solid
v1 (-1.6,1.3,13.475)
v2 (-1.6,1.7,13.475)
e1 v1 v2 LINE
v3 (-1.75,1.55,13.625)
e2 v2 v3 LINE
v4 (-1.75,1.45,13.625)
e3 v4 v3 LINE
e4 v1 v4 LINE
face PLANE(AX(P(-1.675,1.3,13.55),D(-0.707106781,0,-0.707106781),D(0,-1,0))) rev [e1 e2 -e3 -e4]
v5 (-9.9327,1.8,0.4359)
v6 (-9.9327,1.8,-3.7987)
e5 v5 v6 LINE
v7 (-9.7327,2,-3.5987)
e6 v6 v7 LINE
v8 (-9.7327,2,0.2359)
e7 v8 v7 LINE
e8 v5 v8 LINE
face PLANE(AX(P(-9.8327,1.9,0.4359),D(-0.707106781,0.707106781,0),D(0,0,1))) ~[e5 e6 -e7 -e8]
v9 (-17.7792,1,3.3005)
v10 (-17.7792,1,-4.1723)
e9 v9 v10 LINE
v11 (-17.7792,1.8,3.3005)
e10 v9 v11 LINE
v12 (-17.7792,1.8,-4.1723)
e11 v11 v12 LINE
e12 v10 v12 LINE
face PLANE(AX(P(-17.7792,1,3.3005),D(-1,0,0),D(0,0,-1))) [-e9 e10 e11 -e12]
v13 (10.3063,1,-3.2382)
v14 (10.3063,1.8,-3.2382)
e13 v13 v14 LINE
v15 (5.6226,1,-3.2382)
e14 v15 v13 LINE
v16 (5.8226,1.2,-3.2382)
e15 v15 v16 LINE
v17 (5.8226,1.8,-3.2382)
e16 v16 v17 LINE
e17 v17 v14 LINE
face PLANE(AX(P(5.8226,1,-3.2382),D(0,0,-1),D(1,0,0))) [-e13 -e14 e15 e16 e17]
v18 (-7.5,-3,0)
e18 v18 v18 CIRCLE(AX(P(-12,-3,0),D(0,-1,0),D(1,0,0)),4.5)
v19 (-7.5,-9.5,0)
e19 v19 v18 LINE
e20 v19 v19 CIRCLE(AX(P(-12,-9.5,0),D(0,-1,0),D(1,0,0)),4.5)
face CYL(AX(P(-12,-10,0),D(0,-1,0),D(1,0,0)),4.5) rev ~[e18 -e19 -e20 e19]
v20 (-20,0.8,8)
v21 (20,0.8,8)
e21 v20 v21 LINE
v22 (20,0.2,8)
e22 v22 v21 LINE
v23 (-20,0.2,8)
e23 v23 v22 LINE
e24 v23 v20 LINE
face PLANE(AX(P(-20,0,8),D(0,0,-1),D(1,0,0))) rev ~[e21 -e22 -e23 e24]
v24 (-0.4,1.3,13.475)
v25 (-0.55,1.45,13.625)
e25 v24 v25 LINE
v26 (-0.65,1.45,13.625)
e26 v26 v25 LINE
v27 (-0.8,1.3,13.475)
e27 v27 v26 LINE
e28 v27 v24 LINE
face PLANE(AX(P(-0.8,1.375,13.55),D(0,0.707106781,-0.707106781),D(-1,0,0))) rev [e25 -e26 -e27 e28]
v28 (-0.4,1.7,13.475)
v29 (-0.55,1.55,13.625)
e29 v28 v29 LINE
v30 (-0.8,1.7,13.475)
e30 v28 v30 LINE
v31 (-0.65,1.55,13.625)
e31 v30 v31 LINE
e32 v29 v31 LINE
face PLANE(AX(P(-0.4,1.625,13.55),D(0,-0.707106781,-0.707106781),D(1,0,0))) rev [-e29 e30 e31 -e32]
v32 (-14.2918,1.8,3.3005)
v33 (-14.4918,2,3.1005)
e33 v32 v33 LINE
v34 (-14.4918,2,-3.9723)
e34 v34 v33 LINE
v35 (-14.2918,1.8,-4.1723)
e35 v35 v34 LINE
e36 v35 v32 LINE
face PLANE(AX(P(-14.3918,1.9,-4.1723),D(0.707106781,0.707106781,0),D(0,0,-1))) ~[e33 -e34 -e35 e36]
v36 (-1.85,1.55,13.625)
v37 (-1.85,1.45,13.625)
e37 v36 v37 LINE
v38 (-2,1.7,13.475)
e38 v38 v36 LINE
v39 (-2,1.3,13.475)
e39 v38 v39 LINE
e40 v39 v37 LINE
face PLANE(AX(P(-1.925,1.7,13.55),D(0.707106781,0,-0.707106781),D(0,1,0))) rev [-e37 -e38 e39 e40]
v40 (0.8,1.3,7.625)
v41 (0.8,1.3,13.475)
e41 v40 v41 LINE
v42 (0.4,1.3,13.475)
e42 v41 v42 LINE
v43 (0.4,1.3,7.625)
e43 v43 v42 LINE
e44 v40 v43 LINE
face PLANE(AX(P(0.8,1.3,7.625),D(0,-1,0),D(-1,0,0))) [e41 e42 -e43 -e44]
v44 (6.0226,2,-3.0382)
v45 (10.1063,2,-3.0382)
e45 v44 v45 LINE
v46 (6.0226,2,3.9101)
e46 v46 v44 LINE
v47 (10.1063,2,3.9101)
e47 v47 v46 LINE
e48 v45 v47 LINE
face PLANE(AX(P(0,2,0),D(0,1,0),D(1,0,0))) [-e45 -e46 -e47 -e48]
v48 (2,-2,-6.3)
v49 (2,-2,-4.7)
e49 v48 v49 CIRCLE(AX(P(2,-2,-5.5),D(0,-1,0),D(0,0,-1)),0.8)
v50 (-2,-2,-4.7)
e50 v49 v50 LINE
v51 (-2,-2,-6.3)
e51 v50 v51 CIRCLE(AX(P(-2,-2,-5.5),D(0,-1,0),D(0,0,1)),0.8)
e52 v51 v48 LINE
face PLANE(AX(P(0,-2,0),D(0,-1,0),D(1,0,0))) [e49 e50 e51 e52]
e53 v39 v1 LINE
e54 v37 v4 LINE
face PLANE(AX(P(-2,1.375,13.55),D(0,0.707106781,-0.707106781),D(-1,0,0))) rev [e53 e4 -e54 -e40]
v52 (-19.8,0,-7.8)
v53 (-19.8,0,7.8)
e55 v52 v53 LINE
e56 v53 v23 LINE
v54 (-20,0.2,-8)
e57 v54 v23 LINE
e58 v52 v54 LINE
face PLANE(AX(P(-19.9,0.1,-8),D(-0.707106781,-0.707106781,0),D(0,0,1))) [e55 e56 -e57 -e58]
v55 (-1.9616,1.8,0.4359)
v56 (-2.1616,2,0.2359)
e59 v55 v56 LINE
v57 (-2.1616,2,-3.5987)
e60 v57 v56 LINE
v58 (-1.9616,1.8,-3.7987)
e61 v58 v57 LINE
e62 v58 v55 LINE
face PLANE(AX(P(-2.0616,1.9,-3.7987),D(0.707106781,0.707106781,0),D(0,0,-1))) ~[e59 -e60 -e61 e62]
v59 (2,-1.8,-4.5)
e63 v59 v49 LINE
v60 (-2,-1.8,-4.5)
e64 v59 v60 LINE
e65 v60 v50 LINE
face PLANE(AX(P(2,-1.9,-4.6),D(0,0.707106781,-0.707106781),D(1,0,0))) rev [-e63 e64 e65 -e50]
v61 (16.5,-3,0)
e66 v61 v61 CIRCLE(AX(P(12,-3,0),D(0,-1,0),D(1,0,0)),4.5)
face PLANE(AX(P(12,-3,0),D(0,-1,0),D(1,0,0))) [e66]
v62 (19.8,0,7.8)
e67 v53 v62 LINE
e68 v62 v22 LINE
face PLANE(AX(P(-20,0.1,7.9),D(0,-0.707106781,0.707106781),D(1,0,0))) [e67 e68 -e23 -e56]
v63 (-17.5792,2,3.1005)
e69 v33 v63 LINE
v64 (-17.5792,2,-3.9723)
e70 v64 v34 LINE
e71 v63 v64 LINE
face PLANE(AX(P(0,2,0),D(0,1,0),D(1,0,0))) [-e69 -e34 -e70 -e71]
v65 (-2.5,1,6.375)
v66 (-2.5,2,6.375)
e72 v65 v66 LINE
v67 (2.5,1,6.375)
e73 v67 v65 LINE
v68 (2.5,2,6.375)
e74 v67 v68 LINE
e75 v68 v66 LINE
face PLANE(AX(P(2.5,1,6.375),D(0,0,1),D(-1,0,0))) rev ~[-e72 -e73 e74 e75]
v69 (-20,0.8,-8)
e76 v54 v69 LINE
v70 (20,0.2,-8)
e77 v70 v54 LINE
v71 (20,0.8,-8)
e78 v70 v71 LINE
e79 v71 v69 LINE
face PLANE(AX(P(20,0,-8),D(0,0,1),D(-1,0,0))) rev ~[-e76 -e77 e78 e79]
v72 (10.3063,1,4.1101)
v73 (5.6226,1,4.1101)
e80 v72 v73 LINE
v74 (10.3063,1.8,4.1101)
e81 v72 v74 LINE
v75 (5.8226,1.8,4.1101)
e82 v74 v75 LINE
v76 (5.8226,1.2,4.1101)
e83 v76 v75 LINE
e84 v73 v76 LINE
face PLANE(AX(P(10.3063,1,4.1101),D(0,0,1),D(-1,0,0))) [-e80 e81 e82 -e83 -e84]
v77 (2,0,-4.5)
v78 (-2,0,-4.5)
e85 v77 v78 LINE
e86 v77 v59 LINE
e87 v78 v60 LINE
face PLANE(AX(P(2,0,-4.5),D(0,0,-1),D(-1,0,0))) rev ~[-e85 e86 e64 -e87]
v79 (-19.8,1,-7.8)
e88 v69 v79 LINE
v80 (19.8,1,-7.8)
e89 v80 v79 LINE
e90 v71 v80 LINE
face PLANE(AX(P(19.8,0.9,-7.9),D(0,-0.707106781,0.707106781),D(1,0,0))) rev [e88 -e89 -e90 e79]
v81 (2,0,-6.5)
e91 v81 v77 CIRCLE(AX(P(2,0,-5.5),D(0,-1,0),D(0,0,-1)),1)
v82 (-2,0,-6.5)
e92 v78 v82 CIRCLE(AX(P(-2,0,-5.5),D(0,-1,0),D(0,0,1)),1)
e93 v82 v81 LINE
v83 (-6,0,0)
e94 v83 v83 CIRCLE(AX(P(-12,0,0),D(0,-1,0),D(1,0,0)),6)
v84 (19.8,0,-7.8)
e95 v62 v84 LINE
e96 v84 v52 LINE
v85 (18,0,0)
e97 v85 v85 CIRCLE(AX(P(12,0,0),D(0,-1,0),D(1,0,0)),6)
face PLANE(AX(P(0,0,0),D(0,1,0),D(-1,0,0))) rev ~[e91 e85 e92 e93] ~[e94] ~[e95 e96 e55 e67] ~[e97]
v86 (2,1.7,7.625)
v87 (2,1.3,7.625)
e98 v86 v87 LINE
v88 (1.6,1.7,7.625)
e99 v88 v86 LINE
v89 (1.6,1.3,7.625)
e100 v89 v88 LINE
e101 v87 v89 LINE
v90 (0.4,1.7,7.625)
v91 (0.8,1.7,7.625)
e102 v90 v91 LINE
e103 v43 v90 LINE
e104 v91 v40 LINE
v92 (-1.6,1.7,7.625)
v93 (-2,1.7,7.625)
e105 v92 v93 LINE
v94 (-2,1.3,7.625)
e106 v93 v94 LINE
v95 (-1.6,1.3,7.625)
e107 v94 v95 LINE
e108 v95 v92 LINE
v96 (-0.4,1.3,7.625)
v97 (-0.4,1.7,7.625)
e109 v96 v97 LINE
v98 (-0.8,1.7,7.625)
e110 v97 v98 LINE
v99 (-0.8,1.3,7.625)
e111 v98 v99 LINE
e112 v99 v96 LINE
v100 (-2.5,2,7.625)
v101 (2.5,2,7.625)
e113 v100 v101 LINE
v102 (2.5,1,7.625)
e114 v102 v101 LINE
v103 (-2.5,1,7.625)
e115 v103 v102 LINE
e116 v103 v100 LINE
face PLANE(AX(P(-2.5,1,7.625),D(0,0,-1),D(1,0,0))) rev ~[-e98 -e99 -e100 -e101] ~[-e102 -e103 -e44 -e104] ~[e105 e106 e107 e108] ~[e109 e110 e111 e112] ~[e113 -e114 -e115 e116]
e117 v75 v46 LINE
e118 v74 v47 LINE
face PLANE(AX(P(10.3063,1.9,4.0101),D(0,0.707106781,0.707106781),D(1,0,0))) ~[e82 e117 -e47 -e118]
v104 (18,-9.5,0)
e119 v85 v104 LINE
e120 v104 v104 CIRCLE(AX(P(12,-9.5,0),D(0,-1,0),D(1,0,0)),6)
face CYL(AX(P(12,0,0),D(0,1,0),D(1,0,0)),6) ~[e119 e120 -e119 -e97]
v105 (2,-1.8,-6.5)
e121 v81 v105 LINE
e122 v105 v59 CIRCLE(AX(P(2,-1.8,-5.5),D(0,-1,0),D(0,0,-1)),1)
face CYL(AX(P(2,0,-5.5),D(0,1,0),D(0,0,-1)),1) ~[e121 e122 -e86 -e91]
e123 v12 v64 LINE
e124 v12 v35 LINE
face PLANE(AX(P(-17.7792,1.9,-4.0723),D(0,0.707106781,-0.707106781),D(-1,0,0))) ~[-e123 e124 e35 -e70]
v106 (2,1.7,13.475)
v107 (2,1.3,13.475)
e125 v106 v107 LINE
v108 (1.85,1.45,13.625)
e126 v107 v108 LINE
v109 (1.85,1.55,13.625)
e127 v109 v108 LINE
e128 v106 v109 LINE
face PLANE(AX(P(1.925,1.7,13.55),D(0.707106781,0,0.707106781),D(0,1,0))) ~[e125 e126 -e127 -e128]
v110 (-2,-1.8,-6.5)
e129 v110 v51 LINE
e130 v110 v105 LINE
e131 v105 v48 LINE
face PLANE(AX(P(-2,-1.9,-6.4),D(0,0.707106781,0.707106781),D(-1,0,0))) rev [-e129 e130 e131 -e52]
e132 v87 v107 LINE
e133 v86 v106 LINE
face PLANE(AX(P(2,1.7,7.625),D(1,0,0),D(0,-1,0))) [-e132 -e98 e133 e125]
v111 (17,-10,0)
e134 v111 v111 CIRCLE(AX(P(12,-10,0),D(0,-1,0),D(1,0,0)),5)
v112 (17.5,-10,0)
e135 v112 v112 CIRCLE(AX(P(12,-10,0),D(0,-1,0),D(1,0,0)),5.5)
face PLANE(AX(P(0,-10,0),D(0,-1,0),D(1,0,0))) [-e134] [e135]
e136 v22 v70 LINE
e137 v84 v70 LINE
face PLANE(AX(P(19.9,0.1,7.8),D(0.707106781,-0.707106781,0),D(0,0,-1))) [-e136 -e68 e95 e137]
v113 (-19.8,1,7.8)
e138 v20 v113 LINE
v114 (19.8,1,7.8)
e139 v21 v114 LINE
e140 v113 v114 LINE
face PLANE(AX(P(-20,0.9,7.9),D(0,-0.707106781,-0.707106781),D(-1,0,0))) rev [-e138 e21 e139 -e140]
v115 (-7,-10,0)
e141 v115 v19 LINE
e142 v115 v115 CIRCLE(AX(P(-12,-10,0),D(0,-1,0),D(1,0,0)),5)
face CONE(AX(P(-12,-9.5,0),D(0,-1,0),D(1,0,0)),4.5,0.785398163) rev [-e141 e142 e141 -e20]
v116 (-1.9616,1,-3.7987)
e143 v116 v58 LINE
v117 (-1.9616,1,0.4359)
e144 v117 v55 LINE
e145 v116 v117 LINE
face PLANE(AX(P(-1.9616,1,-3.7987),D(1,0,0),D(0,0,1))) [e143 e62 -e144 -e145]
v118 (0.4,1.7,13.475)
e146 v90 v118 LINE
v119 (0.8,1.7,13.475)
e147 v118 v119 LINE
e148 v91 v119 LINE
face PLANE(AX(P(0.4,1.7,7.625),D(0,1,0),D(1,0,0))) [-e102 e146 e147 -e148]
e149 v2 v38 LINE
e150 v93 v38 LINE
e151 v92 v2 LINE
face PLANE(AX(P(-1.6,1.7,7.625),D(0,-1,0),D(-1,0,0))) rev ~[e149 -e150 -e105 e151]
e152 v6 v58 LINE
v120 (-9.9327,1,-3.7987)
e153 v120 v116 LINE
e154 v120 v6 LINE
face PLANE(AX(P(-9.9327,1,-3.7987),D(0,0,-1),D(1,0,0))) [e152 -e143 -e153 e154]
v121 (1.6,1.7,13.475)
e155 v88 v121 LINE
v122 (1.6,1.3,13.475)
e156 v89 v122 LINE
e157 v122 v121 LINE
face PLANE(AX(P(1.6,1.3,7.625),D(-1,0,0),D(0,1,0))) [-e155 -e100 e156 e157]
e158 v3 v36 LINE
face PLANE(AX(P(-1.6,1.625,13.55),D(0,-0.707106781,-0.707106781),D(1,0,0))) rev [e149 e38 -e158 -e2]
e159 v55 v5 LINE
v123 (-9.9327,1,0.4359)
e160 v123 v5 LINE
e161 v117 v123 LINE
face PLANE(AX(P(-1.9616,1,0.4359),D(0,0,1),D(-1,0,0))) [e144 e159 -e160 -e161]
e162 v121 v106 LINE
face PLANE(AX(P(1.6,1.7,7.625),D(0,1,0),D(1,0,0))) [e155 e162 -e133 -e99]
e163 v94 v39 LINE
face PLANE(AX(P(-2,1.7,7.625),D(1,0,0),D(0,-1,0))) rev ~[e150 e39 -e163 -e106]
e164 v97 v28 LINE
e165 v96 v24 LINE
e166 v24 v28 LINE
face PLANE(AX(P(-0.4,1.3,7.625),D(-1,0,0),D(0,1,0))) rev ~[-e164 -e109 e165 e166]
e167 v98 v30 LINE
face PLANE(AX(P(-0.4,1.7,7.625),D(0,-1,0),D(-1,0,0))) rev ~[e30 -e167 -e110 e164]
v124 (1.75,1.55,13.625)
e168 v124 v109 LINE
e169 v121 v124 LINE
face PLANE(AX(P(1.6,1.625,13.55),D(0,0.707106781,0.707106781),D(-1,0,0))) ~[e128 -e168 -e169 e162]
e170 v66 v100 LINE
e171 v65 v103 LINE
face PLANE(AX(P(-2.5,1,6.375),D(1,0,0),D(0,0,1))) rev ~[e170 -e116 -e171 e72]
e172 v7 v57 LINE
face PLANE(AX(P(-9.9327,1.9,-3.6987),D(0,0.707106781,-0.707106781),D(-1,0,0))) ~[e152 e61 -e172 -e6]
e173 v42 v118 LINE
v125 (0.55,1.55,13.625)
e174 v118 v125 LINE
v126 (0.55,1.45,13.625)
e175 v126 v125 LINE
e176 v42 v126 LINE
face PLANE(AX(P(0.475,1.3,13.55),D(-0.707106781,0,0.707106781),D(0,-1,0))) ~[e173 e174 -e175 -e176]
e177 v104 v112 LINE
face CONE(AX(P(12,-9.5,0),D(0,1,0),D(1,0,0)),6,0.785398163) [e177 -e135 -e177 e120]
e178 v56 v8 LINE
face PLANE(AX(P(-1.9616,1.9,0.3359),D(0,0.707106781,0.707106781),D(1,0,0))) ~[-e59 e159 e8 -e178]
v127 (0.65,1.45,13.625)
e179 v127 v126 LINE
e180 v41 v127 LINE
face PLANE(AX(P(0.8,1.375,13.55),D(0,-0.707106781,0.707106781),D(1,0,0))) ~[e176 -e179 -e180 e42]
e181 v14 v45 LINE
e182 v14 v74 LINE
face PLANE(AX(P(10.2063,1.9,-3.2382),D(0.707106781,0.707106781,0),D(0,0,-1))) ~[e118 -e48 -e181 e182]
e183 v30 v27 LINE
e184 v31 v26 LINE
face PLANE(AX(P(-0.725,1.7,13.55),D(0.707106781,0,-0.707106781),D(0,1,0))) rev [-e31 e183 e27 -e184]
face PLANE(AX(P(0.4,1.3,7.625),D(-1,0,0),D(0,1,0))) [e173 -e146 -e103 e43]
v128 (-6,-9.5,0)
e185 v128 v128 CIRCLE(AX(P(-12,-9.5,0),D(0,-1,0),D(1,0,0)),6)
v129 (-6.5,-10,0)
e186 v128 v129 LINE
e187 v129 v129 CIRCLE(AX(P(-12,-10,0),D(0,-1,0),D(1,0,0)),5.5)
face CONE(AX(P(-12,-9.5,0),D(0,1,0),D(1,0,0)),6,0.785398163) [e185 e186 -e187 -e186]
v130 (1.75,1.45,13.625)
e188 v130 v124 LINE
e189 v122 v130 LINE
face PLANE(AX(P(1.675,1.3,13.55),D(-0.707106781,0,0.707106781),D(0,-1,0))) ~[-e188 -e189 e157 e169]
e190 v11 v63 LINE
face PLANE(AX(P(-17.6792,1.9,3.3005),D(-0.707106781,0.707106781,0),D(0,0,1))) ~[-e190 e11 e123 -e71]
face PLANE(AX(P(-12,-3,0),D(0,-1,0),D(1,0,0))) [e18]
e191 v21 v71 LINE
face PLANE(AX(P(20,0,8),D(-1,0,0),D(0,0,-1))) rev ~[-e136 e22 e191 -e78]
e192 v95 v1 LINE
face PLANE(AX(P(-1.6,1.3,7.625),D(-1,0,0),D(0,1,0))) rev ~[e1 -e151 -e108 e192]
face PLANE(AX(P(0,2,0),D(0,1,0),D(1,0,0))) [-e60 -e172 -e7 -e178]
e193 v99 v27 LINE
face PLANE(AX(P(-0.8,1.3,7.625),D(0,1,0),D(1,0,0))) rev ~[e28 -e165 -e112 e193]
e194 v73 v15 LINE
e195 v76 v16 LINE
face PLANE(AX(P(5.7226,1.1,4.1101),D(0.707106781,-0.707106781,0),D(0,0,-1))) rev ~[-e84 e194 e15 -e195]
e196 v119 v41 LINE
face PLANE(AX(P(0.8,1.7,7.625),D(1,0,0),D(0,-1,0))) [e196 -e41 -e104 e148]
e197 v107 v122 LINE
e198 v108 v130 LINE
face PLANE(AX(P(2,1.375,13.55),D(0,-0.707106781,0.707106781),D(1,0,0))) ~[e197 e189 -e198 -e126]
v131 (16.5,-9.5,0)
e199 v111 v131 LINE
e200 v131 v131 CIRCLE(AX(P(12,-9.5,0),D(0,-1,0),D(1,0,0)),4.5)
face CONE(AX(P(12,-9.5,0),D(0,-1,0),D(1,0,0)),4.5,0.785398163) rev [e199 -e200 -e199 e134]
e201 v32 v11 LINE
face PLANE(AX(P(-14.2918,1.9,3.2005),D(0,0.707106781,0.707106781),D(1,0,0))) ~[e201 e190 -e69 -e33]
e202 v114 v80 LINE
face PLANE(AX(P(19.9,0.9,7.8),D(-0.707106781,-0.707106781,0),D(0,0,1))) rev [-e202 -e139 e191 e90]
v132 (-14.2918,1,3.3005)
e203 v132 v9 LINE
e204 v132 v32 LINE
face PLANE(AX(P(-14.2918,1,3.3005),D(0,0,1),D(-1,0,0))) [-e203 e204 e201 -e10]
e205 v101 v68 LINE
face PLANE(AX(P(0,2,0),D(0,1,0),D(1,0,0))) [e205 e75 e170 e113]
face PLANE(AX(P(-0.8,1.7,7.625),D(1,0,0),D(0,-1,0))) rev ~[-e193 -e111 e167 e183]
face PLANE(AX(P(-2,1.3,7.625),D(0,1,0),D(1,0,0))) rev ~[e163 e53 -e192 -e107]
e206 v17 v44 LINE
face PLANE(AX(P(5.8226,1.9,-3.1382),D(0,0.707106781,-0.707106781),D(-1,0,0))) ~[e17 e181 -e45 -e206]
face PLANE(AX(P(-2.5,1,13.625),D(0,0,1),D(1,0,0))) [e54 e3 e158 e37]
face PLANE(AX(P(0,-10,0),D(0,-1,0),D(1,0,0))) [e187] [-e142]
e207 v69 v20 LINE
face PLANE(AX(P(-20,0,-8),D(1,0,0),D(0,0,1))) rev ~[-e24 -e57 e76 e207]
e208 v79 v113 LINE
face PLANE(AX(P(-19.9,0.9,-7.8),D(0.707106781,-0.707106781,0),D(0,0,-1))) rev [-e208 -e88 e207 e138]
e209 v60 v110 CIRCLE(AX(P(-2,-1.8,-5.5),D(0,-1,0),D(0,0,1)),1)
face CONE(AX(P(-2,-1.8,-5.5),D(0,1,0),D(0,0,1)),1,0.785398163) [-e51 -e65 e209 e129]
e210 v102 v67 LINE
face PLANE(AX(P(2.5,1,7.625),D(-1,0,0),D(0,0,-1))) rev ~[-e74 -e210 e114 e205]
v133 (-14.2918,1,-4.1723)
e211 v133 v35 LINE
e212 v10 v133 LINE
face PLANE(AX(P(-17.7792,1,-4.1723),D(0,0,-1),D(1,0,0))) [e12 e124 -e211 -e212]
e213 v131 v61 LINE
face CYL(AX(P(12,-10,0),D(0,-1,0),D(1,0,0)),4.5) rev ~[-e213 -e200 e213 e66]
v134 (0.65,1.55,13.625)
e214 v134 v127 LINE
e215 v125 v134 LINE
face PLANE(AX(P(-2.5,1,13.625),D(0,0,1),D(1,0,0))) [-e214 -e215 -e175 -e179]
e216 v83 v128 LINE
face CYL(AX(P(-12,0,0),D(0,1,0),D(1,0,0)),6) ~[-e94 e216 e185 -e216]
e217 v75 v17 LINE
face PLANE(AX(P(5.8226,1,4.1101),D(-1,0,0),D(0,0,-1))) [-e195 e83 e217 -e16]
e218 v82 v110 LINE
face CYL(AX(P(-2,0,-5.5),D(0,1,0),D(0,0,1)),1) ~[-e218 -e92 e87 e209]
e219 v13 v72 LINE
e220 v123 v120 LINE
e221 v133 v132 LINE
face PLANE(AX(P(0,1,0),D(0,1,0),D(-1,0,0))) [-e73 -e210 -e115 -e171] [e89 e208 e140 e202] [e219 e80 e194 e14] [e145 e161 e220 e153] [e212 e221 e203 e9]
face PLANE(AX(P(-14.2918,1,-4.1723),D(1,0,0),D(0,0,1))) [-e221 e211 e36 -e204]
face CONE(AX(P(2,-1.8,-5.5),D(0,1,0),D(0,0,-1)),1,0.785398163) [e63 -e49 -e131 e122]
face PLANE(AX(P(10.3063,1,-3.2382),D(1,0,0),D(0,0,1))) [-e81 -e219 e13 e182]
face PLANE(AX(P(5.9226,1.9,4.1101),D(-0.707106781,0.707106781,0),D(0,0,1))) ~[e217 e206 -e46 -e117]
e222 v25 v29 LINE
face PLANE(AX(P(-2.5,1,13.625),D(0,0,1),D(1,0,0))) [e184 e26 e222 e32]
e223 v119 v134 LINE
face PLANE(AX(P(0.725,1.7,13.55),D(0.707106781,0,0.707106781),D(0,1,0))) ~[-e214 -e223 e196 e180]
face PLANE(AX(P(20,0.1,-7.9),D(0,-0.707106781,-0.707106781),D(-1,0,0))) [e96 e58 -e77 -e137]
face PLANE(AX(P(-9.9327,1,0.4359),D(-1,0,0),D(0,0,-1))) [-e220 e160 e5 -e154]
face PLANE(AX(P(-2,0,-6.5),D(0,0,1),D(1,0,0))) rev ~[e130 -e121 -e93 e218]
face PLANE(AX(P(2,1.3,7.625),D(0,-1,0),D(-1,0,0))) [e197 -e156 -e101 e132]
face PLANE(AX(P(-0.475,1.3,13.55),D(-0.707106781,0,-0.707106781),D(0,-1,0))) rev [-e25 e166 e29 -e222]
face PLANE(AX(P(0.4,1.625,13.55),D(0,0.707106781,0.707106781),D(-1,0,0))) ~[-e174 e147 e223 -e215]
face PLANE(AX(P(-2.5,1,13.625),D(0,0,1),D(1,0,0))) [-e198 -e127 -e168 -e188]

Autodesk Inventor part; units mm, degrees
ref_plane "YZ Plane" through (0, 0, 0) normal (1, 0, 0) x (0, 1, 0)
ref_plane "XZ Plane" through (0, 0, 0) normal (0, 1, 0) x (-1, 0, 0)
ref_plane "XY Plane" through (0, 0, 0) normal (0, 0, 1) x (1, 0, 0)
sketch "Szkic1" plane through (0, 0, 0) normal (0, 1, 0) x (-1, 0, 0)
  line L0 (-20, -8) -> (20, -8)
  line L1 (20, -8) -> (20, 8)
  line L2 (20, 8) -> (-20, 8)
  line L3 (-20, 8) -> (-20, -8)
  line L4 (-20, -8) -> (20, 8) construction
  line L5 (20, -8) -> (-20, 8) construction
  point P0 (0, 0)
  dimension "d0" = 40
  dimension "d1" = 16
extrude "Wyciągnięcie proste1" add sketch "Szkic1" along normal blind 1
sketch "Szkic2" plane through (0, 0, 0) normal (0, -1, 0) x (1, 0, 0)
  circle A0 centre (-12, 0) radius 6
  circle A1 centre (12, 0) radius 6
  point P0 (0, 0)
  dimension "d4" = 12
  dimension "d5" = 12
extrude "Wyciągnięcie proste2" add sketch "Szkic2" along normal blind 10
sketch "Szkic3" plane through (0, 0, 0) normal (0, -1, 0) x (1, 0, 0)
  line L0 (20, -8) -> (-20, -8) projected
  line L1 (2, -5.5) -> (-2, -5.5) construction
  line L2 (2, -4.5) -> (-2, -4.5)
  line L3 (-2, -6.5) -> (2, -6.5)
  arc A0 (2, -6.5) -> (2, -4.5) centre (2, -5.5) ccw
  arc A1 (-2, -4.5) -> (-2, -6.5) centre (-2, -5.5) ccw
  point P0 (0, 0)
  point P1 (0, -5.5)
  dimension "d8" = 4
  dimension "d9" = 2
extrude "Wyciągnięcie proste3" add sketch "Szkic3" along normal blind 2
chamfer "Faza1" distance 0.5 angle 45 1 edges at (-18, -10, 0)
chamfer "Faza2" distance 0.5 angle 45 1 edges at (6, -10, 0)
chamfer "Faza3" distance 0.2 angle 45 4 edges at (0, -2, -6.5) (3, -2, -5.5) (0, -2, -4.5) (-3, -2, -5.5)
chamfer "Faza4" distance 0.2 angle 45 1 edges at (0, 0, 8)
chamfer "Faza5" distance 0.2 angle 45 1 edges at (-20, 0, -0.1)
chamfer "Faza6" distance 0.2 angle 45 1 edges at (0.1, 0, -8)
chamfer "Faza7" distance 0.2 angle 45 1 edges at (20, 0, 0)
chamfer "Faza8" distance 0.2 angle 45 1 edges at (0, 1, 8)
chamfer "Faza9" distance 0.2 angle 45 1 edges at (20, 1, -0.1)
chamfer "Faza10" distance 0.2 angle 45 1 edges at (-0.1, 1, -8)
chamfer "Faza11" distance 0.2 angle 45 1 edges at (-20, 1, 0)
sketch "Szkic4" plane through (0, 1, 0) normal (0, 1, 0) x (1, 0, 0)
  line L0 (-17.7792, 4.1723) -> (-14.2918, 4.1723)
  line L1 (-14.2918, 4.1723) -> (-14.2918, -3.3005)
  line L2 (-14.2918, -3.3005) -> (-17.7792, -3.3005)
  line L3 (-17.7792, -3.3005) -> (-17.7792, 4.1723)
  line L4 (-17.7792, 4.1723) -> (-14.2918, -3.3005) construction
  line L5 (-14.2918, 4.1723) -> (-17.7792, -3.3005) construction
  line L6 (-9.9327, 3.7987) -> (-1.9616, 3.7987)
  line L7 (-1.9616, 3.7987) -> (-1.9616, -0.4359)
  line L8 (-1.9616, -0.4359) -> (-9.9327, -0.4359)
  line L9 (-9.9327, -0.4359) -> (-9.9327, 3.7987)
  line L10 (-9.9327, 3.7987) -> (-1.9616, -0.4359) construction
  line L11 (-1.9616, 3.7987) -> (-9.9327, -0.4359) construction
  line L12 (10.3063, -4.1101) -> (5.8226, -4.1101)
  line L13 (5.8226, -4.1101) -> (5.8226, 3.2382)
  line L14 (5.8226, 3.2382) -> (10.3063, 3.2382)
  line L15 (10.3063, 3.2382) -> (10.3063, -4.1101)
  line L16 (10.3063, -4.1101) -> (5.8226, 3.2382) construction
  line L17 (5.8226, -4.1101) -> (10.3063, 3.2382) construction
  point P0 (0, 0)
  point P1 (-16.0355, 0.4359)
  point P2 (-5.9471, 1.6814)
  point P3 (8.0645, -0.4359)
extrude "Wyciągnięcie proste4" add sketch "Szkic4" along normal blind 1
chamfer "Faza12" distance 0.2 angle 45 13 edges at (-5.9471, 2, 0.4359) (-1.9616, 2, -1.6814) (-5.9471, 2, -3.7987) (-9.9327, 2, -1.6814) (-14.2918, 2, -0.4359) (-16.0355, 2, 3.3005) (-17.7792, 2, -0.4359) (-16.0355, 2, -4.1723) (8.0645, 2, 4.1101) (5.8226, 1, 0.4359) (10.3063, 2, 0.4359) (8.0645, 2, -3.2382) (5.8226, 2, 0.4359)
sketch "Szkic5" plane through (-12, -10, 0) normal (0, -1, 0) x (1, 0, 0)
  circle A0 centre (0, 0) radius 5.5 projected
  circle A1 centre (24, 0) radius 5.5 projected
  point P0 (12, 0)
sketch "Szkic6" plane through (-12, -10, 0) normal (0, -1, 0) x (1, 0, 0)
  circle A0 centre (0, 0) radius 5.5 projected
  circle A1 centre (0, 0) radius 4.5
  point P0 (12, 0)
  dimension "d50" = 9
extrude "Wyciągnięcie proste5" cut sketch "Szkic6" against normal blind 7 contours A1
chamfer "Faza13" distance 0.5 angle 45 1 edges at (-16.5, -10, 0)
sketch "Szkic7" plane through (12, -10, 0) normal (0, -1, 0) x (1, 0, 0)
  circle A0 centre (0, 0) radius 5.5 projected
  circle A1 centre (0, 0) radius 4.5
  point P0 (-12, 0)
  dimension "d56" = 9
extrude "Wyciągnięcie proste6" cut sketch "Szkic7" against normal blind 7 contours A1
chamfer "Faza14" distance 0.5 angle 45 1 edges at (7.5, -10, 0)
sketch "Szkic8" plane through (0, 1, 0) normal (0, 1, 0) x (1, 0, 0)
  line L0 (-2.5, -7.625) -> (2.5, -7.625)
  line L1 (2.5, -7.625) -> (2.5, -6.375)
  line L2 (2.5, -6.375) -> (-2.5, -6.375)
  line L3 (-2.5, -6.375) -> (-2.5, -7.625)
  line L4 (-2.5, -7.625) -> (2.5, -6.375) construction
  line L5 (2.5, -7.625) -> (-2.5, -6.375) construction
  point P0 (0, 0)
  point P1 (0, -7)
  dimension "d62" = 5
  dimension "d63" = 1.25
extrude "Wyciągnięcie proste7" add sketch "Szkic8" along normal blind 1
sketch "Szkic9" plane through (-2.5, 1, 7.625) normal (0, 0, 1) x (1, 0, 0)
  line L0 (0.9, 0.7) -> (0.5, 0.7)
  line L1 (0.5, 0.7) -> (0.5, 0.3)
  line L2 (0.5, 0.3) -> (0.9, 0.3)
  line L3 (0.9, 0.3) -> (0.9, 0.7)
  line L4 (0.9, 0.7) -> (0.5, 0.3) construction
  line L5 (0.5, 0.7) -> (0.9, 0.3) construction
  line L6 (4.1, 0.7) -> (4.5, 0.7)
  line L7 (4.5, 0.7) -> (4.5, 0.3)
  line L8 (4.5, 0.3) -> (4.1, 0.3)
  line L9 (4.1, 0.3) -> (4.1, 0.7)
  line L10 (4.1, 0.7) -> (4.5, 0.3) construction
  line L11 (4.5, 0.7) -> (4.1, 0.3) construction
  line L12 (2.1, 0.7) -> (1.7, 0.7)
  line L13 (1.7, 0.7) -> (1.7, 0.3)
  line L14 (1.7, 0.3) -> (2.1, 0.3)
  line L15 (2.1, 0.3) -> (2.1, 0.7)
  line L16 (2.1, 0.7) -> (1.7, 0.3) construction
  line L17 (1.7, 0.7) -> (2.1, 0.3) construction
  line L18 (2.9, 0.7) -> (3.3, 0.7)
  line L19 (3.3, 0.7) -> (3.3, 0.3)
  line L20 (3.3, 0.3) -> (2.9, 0.3)
  line L21 (2.9, 0.3) -> (2.9, 0.7)
  line L22 (2.9, 0.7) -> (3.3, 0.3) construction
  line L23 (3.3, 0.7) -> (2.9, 0.3) construction
  point P0 (2.5, -1)
  point P1 (0.7, 0.5)
  point P2 (4.3, 0.5)
  point P3 (1.9, 0.5)
  point P4 (3.1, 0.5)
  dimension "d66" = 0.4
  dimension "d67" = 0.4
  dimension "d68" = 0.4
  dimension "d69" = 0.4
  dimension "d70" = 0.4
  dimension "d71" = 0.4
  dimension "d72" = 0.4
  dimension "d73" = 0.4
extrude "Wyciągnięcie proste8" add sketch "Szkic9" along normal blind 6
chamfer "Faza15" distance 0.15 angle 45 4 edges at (-2, 1.5, 13.625) (-1.8, 1.3, 13.625) (-1.6, 1.5, 13.625) (-1.8, 1.7, 13.625)
chamfer "Faza16" distance 0.15 angle 45 12 edges at (-0.6, 1.7, 13.625) (-0.8, 1.5, 13.625) (-0.6, 1.3, 13.625) (-0.4, 1.5, 13.625) (0.6, 1.3, 13.625) (0.8, 1.5, 13.625) (0.6, 1.7, 13.625) (0.4, 1.5, 13.625) (1.6, 1.5, 13.625) (1.8, 1.3, 13.625) (2, 1.5, 13.625) (1.8, 1.7, 13.625)
properties part number "czujnik_ultra_dzwiek" material "Kauczuk, silikon"
